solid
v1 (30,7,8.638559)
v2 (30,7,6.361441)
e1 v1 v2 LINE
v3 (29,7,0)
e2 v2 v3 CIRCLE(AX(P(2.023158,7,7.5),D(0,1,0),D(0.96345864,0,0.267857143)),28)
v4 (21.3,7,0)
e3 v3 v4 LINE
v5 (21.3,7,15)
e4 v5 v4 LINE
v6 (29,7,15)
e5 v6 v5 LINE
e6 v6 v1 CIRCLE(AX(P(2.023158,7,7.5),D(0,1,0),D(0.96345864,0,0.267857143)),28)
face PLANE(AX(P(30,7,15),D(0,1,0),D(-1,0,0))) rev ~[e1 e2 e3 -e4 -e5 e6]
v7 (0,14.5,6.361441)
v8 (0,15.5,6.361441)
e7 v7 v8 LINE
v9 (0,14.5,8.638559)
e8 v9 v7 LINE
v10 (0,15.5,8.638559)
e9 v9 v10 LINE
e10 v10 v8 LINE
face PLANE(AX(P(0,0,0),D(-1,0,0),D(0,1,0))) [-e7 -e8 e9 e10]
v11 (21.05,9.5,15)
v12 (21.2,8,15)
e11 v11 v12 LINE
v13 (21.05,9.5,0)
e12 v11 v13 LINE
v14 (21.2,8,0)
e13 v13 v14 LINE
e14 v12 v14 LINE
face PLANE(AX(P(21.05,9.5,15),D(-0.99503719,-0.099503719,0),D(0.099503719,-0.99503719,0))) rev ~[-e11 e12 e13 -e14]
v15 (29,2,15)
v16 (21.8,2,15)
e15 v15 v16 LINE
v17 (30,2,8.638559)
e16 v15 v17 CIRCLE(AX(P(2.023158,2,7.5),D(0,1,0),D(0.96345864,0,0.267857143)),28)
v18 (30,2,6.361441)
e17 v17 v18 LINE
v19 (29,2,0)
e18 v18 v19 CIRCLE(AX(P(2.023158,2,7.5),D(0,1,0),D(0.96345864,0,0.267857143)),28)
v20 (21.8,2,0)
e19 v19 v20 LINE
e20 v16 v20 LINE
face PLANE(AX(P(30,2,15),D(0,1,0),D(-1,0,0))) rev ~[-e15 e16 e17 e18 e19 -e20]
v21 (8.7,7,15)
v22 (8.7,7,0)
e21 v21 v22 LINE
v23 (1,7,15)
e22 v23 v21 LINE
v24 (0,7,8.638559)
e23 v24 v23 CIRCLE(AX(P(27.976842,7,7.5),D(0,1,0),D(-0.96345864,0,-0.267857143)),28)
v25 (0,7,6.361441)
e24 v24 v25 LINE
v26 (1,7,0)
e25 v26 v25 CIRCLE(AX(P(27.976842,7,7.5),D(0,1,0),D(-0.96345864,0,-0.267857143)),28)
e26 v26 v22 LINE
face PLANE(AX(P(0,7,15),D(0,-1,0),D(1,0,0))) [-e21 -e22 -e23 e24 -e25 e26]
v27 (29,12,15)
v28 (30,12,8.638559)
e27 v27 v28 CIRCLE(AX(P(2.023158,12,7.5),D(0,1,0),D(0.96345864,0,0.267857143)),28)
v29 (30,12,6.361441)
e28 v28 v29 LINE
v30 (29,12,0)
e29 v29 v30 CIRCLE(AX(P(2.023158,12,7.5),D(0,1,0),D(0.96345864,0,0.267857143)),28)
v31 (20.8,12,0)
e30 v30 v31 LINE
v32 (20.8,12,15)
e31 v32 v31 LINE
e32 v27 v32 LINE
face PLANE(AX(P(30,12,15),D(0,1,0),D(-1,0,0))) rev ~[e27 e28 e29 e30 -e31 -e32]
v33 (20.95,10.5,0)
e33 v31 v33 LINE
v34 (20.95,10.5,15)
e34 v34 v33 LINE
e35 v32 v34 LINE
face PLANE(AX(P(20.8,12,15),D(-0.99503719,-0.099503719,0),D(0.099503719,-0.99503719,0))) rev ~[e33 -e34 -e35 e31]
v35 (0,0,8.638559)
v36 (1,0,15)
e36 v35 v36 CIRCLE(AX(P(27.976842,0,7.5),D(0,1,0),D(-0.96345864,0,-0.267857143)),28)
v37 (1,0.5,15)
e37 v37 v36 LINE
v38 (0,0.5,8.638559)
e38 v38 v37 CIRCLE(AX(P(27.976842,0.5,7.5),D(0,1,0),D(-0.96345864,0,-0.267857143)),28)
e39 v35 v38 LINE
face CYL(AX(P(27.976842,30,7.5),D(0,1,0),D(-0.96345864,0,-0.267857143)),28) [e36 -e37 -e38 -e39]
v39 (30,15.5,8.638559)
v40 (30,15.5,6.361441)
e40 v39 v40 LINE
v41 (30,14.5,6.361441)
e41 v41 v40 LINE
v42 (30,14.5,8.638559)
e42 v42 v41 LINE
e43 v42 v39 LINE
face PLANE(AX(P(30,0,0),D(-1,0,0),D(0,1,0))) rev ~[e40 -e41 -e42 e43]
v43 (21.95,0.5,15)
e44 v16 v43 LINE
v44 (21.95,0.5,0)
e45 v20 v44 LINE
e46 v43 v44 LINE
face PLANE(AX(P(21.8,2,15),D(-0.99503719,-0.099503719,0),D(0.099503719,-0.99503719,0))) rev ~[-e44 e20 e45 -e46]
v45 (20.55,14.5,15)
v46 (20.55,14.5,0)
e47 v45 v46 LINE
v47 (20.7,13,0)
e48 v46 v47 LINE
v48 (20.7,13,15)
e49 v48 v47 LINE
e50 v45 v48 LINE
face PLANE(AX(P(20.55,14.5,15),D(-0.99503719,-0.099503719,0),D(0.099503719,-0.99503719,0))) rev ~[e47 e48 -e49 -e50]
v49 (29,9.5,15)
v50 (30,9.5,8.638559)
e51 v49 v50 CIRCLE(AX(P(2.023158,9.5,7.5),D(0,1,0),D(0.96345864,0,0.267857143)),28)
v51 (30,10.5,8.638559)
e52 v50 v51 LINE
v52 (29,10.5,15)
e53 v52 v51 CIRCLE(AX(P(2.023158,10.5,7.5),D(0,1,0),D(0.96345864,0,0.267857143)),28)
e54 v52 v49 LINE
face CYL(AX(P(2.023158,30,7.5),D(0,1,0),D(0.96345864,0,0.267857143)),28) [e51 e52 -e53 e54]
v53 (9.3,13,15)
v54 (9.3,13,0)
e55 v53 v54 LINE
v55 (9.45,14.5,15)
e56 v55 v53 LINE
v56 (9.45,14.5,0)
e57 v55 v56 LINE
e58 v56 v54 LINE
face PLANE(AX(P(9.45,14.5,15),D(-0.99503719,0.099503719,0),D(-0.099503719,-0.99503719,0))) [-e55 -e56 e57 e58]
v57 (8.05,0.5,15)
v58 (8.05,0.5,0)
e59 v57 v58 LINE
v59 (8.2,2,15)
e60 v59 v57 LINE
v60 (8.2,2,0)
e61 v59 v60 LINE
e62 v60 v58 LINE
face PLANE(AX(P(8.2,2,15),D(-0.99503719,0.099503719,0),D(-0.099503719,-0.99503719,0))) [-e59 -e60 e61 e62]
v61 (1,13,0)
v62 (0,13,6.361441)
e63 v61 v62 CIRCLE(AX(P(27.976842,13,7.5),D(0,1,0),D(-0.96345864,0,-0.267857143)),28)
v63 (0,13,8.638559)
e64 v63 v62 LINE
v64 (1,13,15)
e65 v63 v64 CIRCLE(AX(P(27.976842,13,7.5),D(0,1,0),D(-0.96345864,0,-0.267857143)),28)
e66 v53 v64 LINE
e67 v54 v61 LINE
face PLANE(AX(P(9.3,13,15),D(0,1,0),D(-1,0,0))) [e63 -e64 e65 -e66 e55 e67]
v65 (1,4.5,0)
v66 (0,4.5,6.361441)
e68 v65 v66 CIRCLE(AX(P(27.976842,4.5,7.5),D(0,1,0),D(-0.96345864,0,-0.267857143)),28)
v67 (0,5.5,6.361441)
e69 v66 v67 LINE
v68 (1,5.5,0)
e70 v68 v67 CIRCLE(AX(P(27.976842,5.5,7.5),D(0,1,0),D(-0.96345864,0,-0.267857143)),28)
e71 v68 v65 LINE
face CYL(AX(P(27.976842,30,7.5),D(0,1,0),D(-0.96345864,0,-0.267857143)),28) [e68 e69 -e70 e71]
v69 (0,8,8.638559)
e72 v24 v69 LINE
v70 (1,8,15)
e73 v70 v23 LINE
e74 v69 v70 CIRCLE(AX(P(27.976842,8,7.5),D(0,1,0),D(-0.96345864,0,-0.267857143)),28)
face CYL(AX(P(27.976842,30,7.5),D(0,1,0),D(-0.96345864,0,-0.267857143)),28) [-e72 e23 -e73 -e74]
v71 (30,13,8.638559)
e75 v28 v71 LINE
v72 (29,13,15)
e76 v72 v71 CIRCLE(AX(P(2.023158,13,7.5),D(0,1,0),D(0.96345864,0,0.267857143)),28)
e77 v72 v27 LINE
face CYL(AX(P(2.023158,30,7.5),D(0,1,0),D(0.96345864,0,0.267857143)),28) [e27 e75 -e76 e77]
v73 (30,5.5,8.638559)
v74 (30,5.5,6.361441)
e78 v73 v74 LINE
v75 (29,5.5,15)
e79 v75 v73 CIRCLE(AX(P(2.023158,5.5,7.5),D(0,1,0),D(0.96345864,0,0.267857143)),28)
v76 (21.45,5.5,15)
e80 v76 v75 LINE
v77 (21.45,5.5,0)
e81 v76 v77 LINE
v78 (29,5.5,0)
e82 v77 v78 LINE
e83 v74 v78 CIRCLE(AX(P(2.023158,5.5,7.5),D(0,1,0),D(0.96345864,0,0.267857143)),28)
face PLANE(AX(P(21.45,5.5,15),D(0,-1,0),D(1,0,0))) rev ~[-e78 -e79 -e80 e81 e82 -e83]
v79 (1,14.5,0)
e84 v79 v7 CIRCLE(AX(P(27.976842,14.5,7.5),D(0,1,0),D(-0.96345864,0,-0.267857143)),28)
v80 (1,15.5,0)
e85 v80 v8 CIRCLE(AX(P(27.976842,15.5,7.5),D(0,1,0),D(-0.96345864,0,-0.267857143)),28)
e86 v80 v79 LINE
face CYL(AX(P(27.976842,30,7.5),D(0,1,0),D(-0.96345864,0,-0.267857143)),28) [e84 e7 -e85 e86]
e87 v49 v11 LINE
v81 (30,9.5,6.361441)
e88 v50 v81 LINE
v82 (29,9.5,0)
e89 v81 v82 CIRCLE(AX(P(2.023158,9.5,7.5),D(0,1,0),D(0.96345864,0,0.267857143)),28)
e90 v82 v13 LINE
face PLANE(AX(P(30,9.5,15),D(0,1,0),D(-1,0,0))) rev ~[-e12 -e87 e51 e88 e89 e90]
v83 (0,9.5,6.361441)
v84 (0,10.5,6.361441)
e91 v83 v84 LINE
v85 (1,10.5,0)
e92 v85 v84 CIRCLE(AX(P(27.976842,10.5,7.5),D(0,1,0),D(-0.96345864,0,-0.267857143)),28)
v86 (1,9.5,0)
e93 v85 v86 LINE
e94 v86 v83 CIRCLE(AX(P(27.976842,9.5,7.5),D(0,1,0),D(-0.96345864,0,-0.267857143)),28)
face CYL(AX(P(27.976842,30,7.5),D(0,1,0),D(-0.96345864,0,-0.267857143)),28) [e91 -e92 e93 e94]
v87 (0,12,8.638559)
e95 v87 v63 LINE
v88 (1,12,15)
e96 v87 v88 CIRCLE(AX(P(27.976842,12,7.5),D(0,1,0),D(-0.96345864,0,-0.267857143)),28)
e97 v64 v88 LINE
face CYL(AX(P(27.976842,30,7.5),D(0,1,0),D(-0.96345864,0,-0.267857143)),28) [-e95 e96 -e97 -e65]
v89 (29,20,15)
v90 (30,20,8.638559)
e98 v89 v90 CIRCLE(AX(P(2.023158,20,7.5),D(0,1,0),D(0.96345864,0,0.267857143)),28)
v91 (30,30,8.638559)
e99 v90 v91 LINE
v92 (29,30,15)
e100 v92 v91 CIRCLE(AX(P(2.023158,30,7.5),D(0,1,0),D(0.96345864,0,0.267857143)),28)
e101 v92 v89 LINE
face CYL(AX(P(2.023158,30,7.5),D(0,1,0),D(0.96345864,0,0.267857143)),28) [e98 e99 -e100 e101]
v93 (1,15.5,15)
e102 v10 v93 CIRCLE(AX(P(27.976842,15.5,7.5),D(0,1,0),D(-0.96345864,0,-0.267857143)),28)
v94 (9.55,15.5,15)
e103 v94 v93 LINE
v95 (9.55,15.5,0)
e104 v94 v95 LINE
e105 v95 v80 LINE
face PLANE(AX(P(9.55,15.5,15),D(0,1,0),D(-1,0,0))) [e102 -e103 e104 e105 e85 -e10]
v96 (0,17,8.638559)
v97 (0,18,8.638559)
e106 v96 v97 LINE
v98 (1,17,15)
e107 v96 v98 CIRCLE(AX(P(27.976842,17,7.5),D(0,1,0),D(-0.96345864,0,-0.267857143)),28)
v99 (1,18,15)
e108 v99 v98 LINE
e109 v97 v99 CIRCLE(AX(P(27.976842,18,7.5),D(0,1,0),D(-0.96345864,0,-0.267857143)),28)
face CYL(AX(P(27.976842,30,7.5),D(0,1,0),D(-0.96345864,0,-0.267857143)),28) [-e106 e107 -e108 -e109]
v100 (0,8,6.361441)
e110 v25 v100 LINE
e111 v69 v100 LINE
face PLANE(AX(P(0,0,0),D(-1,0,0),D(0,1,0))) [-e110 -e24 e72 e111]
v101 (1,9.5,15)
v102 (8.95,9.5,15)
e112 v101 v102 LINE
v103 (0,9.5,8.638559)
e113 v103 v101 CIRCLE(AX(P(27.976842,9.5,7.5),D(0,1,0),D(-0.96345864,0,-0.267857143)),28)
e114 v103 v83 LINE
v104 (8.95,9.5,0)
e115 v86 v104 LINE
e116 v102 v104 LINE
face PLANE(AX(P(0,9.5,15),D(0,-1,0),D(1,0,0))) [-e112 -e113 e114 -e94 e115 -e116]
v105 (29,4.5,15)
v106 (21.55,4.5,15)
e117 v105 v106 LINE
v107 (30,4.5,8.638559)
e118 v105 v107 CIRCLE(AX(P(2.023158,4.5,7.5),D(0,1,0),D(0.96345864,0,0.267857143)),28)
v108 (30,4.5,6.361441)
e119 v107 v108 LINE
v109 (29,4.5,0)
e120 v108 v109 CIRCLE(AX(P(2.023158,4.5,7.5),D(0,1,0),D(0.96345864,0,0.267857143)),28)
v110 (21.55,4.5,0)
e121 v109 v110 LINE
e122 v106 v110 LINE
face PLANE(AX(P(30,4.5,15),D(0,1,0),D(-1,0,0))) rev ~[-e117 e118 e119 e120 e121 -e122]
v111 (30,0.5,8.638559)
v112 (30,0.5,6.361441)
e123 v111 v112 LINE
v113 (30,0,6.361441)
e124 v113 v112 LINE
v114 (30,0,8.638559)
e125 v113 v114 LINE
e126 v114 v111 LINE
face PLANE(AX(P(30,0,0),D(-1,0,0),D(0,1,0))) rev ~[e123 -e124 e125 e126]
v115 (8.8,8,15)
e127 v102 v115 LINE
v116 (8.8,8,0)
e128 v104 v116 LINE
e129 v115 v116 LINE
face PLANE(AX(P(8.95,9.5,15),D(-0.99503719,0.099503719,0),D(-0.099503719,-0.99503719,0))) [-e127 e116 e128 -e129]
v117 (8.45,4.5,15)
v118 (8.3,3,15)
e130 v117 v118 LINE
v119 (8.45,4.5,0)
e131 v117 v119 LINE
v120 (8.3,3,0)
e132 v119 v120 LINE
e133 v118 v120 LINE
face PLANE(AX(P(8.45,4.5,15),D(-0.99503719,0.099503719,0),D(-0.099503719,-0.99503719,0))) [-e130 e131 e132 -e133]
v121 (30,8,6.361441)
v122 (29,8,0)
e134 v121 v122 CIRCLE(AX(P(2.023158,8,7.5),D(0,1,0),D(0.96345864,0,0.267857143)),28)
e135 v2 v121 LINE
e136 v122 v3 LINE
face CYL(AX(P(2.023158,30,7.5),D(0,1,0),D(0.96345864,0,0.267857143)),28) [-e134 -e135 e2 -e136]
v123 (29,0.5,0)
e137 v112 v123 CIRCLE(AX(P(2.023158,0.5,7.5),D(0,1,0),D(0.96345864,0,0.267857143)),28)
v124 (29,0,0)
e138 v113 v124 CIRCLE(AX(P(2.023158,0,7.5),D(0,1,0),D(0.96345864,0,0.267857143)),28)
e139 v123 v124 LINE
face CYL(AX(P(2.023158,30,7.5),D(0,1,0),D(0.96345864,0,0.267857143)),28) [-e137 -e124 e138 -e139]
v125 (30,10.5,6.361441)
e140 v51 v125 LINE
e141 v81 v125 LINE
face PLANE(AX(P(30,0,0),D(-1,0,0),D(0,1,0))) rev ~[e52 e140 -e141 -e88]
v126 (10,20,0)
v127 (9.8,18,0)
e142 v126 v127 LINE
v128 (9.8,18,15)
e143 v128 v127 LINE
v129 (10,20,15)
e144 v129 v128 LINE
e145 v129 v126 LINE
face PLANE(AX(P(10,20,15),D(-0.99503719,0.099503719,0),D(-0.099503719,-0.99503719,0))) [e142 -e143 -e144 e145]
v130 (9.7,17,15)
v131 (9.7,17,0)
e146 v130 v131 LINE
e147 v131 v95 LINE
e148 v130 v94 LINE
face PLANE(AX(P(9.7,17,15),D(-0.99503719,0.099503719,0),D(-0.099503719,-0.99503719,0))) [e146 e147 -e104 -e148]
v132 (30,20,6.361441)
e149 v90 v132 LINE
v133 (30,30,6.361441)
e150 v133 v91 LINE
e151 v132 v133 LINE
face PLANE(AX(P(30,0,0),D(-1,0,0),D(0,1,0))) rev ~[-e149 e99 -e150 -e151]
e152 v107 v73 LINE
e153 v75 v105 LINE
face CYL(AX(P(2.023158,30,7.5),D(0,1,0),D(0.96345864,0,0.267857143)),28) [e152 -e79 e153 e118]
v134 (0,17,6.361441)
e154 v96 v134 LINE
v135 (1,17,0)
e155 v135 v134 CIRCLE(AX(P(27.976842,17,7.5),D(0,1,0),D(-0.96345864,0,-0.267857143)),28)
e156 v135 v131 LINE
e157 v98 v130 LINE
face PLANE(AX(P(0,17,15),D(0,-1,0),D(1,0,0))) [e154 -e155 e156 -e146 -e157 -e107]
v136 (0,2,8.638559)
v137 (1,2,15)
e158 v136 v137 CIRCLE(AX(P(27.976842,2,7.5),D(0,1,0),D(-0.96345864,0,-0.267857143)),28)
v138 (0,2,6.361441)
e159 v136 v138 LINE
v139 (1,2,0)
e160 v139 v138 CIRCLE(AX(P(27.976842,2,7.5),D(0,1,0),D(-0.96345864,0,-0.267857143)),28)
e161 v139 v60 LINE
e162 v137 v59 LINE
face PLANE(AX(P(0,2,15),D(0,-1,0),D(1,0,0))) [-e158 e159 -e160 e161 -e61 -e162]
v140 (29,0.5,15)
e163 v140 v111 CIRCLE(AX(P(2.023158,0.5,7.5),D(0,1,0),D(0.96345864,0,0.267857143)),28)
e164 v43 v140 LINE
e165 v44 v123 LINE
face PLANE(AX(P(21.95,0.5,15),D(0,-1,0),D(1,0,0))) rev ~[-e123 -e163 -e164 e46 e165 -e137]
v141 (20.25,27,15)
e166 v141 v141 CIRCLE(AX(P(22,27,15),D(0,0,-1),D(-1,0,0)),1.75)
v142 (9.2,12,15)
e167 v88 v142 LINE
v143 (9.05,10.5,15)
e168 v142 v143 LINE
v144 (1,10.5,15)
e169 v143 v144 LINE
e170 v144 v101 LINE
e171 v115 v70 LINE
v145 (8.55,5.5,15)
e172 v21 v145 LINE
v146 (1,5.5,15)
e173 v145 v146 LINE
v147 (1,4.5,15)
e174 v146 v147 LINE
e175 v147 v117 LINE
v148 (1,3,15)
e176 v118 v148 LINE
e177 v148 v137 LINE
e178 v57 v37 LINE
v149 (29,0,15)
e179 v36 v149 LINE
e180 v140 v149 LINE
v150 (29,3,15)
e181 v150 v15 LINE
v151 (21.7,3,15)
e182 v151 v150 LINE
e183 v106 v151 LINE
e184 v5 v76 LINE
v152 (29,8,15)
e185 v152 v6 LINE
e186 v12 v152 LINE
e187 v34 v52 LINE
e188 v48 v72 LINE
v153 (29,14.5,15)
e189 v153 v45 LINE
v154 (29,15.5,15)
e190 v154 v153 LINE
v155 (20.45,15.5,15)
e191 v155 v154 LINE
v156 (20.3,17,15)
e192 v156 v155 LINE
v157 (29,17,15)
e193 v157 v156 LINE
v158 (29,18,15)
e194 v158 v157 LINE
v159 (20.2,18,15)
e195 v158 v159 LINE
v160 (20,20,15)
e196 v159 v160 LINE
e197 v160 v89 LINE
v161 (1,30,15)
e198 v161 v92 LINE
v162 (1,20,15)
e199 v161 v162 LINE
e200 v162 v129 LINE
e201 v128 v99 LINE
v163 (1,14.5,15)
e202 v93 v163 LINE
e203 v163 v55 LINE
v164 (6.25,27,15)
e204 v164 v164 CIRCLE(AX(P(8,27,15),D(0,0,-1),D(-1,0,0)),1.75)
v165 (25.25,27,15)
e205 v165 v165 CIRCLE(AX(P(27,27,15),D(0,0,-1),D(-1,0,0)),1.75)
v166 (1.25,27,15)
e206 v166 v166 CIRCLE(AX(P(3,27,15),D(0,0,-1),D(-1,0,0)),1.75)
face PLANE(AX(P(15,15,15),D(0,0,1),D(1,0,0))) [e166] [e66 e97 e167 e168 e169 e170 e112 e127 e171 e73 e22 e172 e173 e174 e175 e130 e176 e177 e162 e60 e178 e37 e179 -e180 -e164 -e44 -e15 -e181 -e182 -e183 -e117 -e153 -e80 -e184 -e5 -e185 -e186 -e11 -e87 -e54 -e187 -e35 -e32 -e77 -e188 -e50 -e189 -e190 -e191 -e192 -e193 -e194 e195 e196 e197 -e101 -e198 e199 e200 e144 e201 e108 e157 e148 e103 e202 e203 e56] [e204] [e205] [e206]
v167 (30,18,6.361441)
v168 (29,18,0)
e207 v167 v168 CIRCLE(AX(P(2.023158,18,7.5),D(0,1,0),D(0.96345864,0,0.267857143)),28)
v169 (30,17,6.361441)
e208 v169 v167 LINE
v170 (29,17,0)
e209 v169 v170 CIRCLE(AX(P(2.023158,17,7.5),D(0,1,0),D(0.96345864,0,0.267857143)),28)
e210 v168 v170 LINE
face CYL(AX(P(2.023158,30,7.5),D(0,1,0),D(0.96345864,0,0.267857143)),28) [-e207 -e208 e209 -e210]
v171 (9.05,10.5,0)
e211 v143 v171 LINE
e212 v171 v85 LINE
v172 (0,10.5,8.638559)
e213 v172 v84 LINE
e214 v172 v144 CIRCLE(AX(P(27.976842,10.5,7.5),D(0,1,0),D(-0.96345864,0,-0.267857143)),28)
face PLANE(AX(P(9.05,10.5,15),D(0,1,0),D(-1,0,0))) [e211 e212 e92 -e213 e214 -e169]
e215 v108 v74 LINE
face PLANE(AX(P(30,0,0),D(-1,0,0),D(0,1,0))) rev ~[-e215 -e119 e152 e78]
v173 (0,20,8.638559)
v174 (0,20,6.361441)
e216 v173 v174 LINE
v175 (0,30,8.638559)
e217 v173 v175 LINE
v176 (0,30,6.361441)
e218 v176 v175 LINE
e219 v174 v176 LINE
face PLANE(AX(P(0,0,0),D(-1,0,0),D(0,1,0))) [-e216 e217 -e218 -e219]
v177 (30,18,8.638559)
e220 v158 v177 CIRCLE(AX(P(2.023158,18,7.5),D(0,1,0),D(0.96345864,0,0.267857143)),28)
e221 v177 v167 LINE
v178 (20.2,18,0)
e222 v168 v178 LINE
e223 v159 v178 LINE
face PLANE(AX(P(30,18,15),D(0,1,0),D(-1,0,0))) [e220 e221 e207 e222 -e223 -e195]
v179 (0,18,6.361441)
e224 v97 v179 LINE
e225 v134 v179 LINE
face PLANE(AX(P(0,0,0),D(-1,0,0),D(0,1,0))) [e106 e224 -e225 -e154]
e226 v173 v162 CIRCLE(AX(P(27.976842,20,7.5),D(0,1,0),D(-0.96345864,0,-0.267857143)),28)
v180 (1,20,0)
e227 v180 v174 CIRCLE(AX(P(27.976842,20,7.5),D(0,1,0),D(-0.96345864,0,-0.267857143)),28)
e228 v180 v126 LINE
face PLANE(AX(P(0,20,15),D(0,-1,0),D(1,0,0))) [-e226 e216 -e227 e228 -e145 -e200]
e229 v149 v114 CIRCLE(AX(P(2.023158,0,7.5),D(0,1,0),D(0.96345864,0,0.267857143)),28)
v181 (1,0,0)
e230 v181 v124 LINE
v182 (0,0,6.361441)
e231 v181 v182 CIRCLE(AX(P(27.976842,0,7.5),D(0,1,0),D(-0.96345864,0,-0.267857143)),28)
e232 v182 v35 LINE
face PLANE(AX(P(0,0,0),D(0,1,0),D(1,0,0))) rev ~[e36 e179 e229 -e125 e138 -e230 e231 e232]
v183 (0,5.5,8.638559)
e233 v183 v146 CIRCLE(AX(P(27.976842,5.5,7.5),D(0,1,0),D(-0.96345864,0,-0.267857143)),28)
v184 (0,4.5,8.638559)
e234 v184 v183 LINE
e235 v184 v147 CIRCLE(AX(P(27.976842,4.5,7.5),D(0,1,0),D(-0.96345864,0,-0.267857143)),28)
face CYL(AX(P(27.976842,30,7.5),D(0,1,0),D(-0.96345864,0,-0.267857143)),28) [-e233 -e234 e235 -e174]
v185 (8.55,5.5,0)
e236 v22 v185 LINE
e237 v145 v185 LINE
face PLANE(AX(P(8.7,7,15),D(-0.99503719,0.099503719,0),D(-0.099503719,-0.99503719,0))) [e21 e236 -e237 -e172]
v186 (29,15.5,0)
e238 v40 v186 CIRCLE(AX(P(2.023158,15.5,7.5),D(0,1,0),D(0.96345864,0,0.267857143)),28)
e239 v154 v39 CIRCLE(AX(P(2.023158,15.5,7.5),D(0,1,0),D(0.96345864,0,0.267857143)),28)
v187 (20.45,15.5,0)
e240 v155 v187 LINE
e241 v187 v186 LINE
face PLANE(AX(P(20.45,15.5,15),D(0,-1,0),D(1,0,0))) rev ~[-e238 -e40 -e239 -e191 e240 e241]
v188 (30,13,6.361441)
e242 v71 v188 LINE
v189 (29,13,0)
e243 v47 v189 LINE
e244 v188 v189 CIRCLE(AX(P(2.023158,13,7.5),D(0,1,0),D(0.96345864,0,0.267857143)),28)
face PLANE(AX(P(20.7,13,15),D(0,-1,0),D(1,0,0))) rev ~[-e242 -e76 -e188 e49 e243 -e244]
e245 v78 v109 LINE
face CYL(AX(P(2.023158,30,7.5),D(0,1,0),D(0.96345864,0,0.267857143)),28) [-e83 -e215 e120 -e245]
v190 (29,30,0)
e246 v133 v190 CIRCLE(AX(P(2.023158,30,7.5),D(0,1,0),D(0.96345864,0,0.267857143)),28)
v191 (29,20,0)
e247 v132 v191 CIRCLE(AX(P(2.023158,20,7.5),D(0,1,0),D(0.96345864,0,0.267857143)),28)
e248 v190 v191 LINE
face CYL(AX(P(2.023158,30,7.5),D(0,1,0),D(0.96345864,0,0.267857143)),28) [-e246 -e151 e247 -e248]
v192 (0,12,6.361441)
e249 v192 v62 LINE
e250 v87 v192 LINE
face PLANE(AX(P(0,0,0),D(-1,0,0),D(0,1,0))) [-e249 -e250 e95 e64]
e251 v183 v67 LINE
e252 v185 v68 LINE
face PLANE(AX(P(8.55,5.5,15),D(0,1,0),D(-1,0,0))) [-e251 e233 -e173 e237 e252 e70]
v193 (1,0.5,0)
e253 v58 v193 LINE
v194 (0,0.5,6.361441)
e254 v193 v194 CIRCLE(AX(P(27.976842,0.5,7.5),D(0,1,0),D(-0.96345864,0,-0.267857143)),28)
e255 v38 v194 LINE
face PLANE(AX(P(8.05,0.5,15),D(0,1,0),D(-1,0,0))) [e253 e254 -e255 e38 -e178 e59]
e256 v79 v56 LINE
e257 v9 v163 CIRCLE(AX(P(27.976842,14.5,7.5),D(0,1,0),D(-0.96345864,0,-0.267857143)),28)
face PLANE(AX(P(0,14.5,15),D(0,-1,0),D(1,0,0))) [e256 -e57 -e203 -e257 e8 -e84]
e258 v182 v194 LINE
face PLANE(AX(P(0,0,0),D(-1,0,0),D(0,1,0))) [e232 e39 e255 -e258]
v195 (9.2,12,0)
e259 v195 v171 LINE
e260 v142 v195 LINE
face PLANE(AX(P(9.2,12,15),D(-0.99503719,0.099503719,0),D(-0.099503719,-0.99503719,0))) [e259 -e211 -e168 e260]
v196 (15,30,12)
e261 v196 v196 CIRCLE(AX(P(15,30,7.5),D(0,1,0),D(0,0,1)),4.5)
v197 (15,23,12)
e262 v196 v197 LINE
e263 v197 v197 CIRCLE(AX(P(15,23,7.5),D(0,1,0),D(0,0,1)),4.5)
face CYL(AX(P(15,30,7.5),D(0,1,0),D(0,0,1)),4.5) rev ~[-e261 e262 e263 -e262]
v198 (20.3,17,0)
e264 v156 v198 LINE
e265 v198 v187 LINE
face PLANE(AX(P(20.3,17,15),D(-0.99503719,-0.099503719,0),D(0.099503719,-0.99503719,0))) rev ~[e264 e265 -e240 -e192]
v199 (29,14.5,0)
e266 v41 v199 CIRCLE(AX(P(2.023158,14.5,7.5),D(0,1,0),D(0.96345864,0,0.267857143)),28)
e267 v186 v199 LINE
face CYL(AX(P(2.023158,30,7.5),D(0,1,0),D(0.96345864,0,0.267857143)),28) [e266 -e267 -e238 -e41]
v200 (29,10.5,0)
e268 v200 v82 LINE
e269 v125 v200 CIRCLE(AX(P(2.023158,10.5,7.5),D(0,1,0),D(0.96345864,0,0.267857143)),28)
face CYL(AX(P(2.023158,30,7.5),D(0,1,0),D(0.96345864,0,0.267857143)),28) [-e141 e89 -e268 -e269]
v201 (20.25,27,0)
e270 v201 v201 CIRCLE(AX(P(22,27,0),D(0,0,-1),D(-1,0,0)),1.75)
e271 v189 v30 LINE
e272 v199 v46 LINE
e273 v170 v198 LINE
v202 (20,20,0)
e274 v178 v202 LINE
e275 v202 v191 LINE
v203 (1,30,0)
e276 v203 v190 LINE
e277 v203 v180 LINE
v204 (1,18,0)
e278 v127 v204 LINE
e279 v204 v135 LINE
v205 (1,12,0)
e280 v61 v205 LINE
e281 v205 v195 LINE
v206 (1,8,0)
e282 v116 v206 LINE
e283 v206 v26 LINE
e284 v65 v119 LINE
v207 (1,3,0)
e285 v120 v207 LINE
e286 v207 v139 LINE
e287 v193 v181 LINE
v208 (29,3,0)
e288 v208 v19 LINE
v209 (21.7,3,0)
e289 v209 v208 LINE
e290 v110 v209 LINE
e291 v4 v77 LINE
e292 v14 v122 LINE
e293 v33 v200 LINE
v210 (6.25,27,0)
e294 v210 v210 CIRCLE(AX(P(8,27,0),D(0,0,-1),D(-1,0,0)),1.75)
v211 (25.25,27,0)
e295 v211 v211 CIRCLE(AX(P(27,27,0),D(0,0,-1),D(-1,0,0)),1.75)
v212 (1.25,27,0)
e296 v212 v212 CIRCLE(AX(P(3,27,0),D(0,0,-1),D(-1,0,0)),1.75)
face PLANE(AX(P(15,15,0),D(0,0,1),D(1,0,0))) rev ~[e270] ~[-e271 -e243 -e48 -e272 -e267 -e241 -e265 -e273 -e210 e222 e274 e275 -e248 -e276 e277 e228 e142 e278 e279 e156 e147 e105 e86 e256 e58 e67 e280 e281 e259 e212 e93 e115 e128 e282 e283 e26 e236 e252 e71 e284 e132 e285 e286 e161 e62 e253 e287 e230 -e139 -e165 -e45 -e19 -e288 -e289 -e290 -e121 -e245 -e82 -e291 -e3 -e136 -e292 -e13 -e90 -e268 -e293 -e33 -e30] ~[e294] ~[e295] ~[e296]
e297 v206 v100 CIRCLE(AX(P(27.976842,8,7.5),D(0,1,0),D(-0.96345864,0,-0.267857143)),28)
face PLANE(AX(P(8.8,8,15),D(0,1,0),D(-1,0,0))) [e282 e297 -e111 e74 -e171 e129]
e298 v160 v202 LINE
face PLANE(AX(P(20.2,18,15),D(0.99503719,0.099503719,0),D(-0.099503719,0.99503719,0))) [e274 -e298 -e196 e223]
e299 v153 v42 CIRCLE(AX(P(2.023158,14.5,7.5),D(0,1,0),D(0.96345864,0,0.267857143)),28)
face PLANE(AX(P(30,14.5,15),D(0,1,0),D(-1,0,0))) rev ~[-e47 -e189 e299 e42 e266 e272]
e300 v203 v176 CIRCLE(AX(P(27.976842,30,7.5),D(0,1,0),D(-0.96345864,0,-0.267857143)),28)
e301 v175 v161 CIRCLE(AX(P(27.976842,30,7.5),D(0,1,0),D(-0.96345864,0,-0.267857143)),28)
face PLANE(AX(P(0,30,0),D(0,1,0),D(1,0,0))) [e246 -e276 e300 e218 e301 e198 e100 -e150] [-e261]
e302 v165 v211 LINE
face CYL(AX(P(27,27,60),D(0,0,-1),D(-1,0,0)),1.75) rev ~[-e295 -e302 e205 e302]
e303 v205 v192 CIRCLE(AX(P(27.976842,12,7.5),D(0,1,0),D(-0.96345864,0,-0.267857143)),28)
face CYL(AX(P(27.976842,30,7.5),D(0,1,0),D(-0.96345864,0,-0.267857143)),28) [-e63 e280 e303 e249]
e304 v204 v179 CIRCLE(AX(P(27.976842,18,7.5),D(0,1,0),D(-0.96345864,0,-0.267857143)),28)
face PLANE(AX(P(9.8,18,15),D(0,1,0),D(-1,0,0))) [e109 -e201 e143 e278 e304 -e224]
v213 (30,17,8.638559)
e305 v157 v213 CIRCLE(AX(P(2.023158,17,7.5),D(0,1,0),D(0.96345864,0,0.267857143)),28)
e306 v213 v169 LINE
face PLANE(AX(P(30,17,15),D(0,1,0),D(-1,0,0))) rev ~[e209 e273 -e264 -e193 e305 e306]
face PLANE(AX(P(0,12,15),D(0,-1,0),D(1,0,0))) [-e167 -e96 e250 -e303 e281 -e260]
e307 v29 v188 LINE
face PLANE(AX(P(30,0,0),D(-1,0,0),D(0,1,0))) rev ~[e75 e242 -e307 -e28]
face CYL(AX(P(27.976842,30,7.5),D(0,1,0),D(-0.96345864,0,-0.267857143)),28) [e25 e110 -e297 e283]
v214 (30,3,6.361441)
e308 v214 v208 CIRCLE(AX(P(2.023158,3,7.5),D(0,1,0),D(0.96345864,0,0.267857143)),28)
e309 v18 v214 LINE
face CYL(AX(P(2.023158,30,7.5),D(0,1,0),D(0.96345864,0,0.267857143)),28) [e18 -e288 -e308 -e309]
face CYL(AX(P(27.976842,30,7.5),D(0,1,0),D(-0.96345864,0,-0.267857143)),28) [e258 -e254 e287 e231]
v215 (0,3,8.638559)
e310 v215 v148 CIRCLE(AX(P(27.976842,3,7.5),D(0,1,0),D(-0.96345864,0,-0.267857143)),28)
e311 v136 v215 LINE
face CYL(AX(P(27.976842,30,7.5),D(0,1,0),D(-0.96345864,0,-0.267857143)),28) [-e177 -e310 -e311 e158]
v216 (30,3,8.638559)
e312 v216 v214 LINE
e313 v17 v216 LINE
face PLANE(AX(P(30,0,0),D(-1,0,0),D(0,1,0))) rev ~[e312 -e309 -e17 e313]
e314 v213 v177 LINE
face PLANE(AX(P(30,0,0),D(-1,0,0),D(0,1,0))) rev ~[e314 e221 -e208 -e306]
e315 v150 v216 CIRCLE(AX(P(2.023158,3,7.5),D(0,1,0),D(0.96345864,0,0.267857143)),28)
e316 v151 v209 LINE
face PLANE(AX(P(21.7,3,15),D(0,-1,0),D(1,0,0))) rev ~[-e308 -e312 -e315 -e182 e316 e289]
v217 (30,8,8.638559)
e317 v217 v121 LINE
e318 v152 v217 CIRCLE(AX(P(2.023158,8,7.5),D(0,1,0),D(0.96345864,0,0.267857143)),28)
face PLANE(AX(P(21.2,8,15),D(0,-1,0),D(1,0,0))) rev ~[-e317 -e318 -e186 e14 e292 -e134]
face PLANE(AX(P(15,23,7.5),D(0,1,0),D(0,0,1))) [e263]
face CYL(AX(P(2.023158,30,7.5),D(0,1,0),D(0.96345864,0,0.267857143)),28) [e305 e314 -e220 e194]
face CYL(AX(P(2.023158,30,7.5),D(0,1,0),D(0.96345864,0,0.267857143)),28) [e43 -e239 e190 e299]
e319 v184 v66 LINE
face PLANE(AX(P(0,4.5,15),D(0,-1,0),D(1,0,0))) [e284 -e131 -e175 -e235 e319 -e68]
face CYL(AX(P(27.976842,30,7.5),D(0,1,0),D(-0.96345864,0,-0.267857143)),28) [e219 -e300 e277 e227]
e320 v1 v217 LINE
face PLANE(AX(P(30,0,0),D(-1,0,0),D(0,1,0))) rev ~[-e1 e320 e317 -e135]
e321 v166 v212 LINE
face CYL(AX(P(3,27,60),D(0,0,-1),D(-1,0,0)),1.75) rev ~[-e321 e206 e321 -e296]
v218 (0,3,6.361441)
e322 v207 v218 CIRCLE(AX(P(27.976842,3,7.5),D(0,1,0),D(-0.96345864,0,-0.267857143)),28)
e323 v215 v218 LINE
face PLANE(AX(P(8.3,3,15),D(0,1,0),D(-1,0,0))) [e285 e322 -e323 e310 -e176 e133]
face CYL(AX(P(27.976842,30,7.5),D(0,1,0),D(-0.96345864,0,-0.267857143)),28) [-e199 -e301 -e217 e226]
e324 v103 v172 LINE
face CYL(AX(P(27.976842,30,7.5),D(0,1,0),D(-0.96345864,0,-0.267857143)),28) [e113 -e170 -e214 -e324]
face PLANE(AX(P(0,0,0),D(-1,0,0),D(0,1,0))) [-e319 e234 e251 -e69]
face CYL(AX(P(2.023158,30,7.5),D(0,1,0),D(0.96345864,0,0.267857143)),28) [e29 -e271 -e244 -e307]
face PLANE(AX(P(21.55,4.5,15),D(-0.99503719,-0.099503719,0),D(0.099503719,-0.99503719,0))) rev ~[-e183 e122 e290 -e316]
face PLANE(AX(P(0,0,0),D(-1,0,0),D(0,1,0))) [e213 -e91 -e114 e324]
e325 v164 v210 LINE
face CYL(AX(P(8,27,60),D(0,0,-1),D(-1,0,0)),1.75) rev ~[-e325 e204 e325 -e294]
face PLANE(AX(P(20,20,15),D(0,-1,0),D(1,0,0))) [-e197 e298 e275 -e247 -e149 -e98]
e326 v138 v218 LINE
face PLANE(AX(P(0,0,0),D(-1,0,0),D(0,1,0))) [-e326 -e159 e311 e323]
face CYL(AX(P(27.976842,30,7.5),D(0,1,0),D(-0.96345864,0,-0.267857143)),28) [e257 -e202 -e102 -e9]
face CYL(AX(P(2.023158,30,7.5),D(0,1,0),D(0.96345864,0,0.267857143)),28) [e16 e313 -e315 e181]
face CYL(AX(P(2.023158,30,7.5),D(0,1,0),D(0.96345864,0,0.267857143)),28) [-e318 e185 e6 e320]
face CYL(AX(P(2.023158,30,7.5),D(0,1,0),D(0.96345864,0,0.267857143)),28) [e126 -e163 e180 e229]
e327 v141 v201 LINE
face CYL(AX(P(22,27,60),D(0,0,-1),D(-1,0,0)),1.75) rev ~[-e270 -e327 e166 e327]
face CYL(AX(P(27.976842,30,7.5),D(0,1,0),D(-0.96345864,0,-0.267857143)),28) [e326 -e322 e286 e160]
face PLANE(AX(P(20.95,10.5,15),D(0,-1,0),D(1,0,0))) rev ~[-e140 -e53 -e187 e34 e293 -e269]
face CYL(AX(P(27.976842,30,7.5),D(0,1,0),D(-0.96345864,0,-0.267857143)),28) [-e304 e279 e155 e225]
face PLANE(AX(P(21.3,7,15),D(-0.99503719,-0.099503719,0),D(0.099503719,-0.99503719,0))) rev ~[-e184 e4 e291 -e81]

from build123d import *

# Parameters (mm, degrees)
SKETCH_1_W              = 30
SKETCH_1_H              = 30
EXTRUDE_1_DEPTH         = 15
HOLE_WIZARD_3_5_3_5_1_D = 3.5
CUT_EXTRUDE_1_DEPTH     = 46
CUT_EXTRUDE_2_REACH     = 47
SKETCH_6_R              = 4.5
CUT_EXTRUDE_3_DEPTH     = 7


with BuildPart() as part:
    # Эскиз1 → Бобышка-Вытянуть1 (new body)
    with BuildSketch(Plane.XY):
        with Locations((15, 15)):
            Rectangle(SKETCH_1_W, SKETCH_1_H)
    extrude(amount=EXTRUDE_1_DEPTH)

    # Диаметр отверстия Ø3.5 (3.5)1 (through all)
    with Locations(Plane.XY.offset(15)):
        with Locations((3, 27), (8, 27), (22, 27), (27, 27)):
            Hole(HOLE_WIZARD_3_5_3_5_1_D / 2)

    # Эскиз4 → Вырез-Вытянуть1 (cut, through all)
    with BuildSketch(Plane.XY.offset(15)):
        Polygon((0, 14.5), (9.45, 14.5), (9.3, 13), (0, 13), align=None)
        Polygon((0, 20), (10, 20), (9.8, 18), (0, 18), align=None)
        Polygon((0, 17), (9.7, 17), (9.55, 15.5), (0, 15.5), align=None)
        Polygon((0, 12), (9.2, 12), (9.05, 10.5), (0, 10.5), align=None)
        Polygon((0, 9.5), (8.95, 9.5), (8.8, 8), (0, 8), align=None)
        Polygon((0, 7), (8.7, 7), (8.55, 5.5), (0, 5.5), align=None)
        Polygon((0, 4.5), (8.45, 4.5), (8.3, 3), (0, 3), align=None)
        Polygon((0, 2), (8.2, 2), (8.05, 0.5), (0, 0.5), align=None)
        Polygon((21.8, 2), (21.95, 0.5), (30, 0.5), (30, 2), align=None)
        Polygon((21.55, 4.5), (21.7, 3), (30, 3), (30, 4.5), align=None)
        Polygon((21.3, 7), (21.45, 5.5), (30, 5.5), (30, 7), align=None)
        Polygon((21.05, 9.5), (21.2, 8), (30, 8), (30, 9.5), align=None)
        Polygon((20.8, 12), (20.95, 10.5), (30, 10.5), (30, 12), align=None)
        Polygon((20.55, 14.5), (20.7, 13), (30, 13), (30, 14.5), align=None)
        Polygon((20.3, 17), (20.45, 15.5), (30, 15.5), (30, 17), align=None)
        Polygon((30, 18), (20.2, 18), (20, 20), (30, 20), align=None)
    extrude(amount=-CUT_EXTRUDE_1_DEPTH, mode=Mode.SUBTRACT)

    # Вырез-Вытянуть2: up to this face of the body (flat: up to its plane)
    cut_extrude_2_end = Plane(part.part.faces().sort_by_distance((15, 0, 7.5))[0])
    # Эскиз5 → Вырез-Вытянуть2 (cut, up to the picked face)
    with BuildSketch(Plane(origin=(0, 30, 0), x_dir=(1, 0, 0), z_dir=(0, 1, 0)), mode=Mode.PRIVATE) as cut_extrude_2_sk1:
        with BuildLine():
            Line((30.335027773, 0), (30.335027773, -15))
            Line((30.335027773, -15), (29, -15))
            ThreePointArc((29, -15), (30.02315808, -7.5), (29, 0))
            Line((29, 0), (30.335027773, 0))
        make_face()
    cut_extrude_2_tool1 = split(extrude(cut_extrude_2_sk1.sketch, amount=-CUT_EXTRUDE_2_REACH, mode=Mode.PRIVATE), bisect_by=cut_extrude_2_end, keep=Keep.BOTH, mode=Mode.PRIVATE)
    # Эскиз5 → Вырез-Вытянуть2 (cut, up to the picked face)
    with BuildSketch(Plane(origin=(0, 30, 0), x_dir=(1, 0, 0), z_dir=(0, 1, 0)), mode=Mode.PRIVATE) as cut_extrude_2_sk2:
        with BuildLine():
            Line((-0.335027773, 0), (1, 0))
            ThreePointArc((1, 0), (-0.02315808, -7.5), (1, -15))
            Line((1, -15), (-0.335027773, -15))
            Line((-0.335027773, -15), (-0.335027773, 0))
        make_face()
    cut_extrude_2_tool2 = split(extrude(cut_extrude_2_sk2.sketch, amount=-CUT_EXTRUDE_2_REACH, mode=Mode.PRIVATE), bisect_by=cut_extrude_2_end, keep=Keep.BOTH, mode=Mode.PRIVATE)
    add(cut_extrude_2_tool1.solids().sort_by(Axis((29.667514, 30, 0.150593), (0, -1, 0)))[0], mode=Mode.SUBTRACT)
    add(cut_extrude_2_tool2.solids().sort_by(Axis((0.332486, 30, 14.849407), (0, -1, 0)))[0], mode=Mode.SUBTRACT)

    # Эскиз6 → Вырез-Вытянуть3 (cut)
    with BuildSketch(Plane(origin=(0, 30, 0), x_dir=(1, 0, 0), z_dir=(0, 1, 0))):
        with Locations(Location((15, -7.5, 0), (0, 0, 270))):
            Circle(SKETCH_6_R)
    extrude(amount=-CUT_EXTRUDE_3_DEPTH, mode=Mode.SUBTRACT)


solid = part.part
